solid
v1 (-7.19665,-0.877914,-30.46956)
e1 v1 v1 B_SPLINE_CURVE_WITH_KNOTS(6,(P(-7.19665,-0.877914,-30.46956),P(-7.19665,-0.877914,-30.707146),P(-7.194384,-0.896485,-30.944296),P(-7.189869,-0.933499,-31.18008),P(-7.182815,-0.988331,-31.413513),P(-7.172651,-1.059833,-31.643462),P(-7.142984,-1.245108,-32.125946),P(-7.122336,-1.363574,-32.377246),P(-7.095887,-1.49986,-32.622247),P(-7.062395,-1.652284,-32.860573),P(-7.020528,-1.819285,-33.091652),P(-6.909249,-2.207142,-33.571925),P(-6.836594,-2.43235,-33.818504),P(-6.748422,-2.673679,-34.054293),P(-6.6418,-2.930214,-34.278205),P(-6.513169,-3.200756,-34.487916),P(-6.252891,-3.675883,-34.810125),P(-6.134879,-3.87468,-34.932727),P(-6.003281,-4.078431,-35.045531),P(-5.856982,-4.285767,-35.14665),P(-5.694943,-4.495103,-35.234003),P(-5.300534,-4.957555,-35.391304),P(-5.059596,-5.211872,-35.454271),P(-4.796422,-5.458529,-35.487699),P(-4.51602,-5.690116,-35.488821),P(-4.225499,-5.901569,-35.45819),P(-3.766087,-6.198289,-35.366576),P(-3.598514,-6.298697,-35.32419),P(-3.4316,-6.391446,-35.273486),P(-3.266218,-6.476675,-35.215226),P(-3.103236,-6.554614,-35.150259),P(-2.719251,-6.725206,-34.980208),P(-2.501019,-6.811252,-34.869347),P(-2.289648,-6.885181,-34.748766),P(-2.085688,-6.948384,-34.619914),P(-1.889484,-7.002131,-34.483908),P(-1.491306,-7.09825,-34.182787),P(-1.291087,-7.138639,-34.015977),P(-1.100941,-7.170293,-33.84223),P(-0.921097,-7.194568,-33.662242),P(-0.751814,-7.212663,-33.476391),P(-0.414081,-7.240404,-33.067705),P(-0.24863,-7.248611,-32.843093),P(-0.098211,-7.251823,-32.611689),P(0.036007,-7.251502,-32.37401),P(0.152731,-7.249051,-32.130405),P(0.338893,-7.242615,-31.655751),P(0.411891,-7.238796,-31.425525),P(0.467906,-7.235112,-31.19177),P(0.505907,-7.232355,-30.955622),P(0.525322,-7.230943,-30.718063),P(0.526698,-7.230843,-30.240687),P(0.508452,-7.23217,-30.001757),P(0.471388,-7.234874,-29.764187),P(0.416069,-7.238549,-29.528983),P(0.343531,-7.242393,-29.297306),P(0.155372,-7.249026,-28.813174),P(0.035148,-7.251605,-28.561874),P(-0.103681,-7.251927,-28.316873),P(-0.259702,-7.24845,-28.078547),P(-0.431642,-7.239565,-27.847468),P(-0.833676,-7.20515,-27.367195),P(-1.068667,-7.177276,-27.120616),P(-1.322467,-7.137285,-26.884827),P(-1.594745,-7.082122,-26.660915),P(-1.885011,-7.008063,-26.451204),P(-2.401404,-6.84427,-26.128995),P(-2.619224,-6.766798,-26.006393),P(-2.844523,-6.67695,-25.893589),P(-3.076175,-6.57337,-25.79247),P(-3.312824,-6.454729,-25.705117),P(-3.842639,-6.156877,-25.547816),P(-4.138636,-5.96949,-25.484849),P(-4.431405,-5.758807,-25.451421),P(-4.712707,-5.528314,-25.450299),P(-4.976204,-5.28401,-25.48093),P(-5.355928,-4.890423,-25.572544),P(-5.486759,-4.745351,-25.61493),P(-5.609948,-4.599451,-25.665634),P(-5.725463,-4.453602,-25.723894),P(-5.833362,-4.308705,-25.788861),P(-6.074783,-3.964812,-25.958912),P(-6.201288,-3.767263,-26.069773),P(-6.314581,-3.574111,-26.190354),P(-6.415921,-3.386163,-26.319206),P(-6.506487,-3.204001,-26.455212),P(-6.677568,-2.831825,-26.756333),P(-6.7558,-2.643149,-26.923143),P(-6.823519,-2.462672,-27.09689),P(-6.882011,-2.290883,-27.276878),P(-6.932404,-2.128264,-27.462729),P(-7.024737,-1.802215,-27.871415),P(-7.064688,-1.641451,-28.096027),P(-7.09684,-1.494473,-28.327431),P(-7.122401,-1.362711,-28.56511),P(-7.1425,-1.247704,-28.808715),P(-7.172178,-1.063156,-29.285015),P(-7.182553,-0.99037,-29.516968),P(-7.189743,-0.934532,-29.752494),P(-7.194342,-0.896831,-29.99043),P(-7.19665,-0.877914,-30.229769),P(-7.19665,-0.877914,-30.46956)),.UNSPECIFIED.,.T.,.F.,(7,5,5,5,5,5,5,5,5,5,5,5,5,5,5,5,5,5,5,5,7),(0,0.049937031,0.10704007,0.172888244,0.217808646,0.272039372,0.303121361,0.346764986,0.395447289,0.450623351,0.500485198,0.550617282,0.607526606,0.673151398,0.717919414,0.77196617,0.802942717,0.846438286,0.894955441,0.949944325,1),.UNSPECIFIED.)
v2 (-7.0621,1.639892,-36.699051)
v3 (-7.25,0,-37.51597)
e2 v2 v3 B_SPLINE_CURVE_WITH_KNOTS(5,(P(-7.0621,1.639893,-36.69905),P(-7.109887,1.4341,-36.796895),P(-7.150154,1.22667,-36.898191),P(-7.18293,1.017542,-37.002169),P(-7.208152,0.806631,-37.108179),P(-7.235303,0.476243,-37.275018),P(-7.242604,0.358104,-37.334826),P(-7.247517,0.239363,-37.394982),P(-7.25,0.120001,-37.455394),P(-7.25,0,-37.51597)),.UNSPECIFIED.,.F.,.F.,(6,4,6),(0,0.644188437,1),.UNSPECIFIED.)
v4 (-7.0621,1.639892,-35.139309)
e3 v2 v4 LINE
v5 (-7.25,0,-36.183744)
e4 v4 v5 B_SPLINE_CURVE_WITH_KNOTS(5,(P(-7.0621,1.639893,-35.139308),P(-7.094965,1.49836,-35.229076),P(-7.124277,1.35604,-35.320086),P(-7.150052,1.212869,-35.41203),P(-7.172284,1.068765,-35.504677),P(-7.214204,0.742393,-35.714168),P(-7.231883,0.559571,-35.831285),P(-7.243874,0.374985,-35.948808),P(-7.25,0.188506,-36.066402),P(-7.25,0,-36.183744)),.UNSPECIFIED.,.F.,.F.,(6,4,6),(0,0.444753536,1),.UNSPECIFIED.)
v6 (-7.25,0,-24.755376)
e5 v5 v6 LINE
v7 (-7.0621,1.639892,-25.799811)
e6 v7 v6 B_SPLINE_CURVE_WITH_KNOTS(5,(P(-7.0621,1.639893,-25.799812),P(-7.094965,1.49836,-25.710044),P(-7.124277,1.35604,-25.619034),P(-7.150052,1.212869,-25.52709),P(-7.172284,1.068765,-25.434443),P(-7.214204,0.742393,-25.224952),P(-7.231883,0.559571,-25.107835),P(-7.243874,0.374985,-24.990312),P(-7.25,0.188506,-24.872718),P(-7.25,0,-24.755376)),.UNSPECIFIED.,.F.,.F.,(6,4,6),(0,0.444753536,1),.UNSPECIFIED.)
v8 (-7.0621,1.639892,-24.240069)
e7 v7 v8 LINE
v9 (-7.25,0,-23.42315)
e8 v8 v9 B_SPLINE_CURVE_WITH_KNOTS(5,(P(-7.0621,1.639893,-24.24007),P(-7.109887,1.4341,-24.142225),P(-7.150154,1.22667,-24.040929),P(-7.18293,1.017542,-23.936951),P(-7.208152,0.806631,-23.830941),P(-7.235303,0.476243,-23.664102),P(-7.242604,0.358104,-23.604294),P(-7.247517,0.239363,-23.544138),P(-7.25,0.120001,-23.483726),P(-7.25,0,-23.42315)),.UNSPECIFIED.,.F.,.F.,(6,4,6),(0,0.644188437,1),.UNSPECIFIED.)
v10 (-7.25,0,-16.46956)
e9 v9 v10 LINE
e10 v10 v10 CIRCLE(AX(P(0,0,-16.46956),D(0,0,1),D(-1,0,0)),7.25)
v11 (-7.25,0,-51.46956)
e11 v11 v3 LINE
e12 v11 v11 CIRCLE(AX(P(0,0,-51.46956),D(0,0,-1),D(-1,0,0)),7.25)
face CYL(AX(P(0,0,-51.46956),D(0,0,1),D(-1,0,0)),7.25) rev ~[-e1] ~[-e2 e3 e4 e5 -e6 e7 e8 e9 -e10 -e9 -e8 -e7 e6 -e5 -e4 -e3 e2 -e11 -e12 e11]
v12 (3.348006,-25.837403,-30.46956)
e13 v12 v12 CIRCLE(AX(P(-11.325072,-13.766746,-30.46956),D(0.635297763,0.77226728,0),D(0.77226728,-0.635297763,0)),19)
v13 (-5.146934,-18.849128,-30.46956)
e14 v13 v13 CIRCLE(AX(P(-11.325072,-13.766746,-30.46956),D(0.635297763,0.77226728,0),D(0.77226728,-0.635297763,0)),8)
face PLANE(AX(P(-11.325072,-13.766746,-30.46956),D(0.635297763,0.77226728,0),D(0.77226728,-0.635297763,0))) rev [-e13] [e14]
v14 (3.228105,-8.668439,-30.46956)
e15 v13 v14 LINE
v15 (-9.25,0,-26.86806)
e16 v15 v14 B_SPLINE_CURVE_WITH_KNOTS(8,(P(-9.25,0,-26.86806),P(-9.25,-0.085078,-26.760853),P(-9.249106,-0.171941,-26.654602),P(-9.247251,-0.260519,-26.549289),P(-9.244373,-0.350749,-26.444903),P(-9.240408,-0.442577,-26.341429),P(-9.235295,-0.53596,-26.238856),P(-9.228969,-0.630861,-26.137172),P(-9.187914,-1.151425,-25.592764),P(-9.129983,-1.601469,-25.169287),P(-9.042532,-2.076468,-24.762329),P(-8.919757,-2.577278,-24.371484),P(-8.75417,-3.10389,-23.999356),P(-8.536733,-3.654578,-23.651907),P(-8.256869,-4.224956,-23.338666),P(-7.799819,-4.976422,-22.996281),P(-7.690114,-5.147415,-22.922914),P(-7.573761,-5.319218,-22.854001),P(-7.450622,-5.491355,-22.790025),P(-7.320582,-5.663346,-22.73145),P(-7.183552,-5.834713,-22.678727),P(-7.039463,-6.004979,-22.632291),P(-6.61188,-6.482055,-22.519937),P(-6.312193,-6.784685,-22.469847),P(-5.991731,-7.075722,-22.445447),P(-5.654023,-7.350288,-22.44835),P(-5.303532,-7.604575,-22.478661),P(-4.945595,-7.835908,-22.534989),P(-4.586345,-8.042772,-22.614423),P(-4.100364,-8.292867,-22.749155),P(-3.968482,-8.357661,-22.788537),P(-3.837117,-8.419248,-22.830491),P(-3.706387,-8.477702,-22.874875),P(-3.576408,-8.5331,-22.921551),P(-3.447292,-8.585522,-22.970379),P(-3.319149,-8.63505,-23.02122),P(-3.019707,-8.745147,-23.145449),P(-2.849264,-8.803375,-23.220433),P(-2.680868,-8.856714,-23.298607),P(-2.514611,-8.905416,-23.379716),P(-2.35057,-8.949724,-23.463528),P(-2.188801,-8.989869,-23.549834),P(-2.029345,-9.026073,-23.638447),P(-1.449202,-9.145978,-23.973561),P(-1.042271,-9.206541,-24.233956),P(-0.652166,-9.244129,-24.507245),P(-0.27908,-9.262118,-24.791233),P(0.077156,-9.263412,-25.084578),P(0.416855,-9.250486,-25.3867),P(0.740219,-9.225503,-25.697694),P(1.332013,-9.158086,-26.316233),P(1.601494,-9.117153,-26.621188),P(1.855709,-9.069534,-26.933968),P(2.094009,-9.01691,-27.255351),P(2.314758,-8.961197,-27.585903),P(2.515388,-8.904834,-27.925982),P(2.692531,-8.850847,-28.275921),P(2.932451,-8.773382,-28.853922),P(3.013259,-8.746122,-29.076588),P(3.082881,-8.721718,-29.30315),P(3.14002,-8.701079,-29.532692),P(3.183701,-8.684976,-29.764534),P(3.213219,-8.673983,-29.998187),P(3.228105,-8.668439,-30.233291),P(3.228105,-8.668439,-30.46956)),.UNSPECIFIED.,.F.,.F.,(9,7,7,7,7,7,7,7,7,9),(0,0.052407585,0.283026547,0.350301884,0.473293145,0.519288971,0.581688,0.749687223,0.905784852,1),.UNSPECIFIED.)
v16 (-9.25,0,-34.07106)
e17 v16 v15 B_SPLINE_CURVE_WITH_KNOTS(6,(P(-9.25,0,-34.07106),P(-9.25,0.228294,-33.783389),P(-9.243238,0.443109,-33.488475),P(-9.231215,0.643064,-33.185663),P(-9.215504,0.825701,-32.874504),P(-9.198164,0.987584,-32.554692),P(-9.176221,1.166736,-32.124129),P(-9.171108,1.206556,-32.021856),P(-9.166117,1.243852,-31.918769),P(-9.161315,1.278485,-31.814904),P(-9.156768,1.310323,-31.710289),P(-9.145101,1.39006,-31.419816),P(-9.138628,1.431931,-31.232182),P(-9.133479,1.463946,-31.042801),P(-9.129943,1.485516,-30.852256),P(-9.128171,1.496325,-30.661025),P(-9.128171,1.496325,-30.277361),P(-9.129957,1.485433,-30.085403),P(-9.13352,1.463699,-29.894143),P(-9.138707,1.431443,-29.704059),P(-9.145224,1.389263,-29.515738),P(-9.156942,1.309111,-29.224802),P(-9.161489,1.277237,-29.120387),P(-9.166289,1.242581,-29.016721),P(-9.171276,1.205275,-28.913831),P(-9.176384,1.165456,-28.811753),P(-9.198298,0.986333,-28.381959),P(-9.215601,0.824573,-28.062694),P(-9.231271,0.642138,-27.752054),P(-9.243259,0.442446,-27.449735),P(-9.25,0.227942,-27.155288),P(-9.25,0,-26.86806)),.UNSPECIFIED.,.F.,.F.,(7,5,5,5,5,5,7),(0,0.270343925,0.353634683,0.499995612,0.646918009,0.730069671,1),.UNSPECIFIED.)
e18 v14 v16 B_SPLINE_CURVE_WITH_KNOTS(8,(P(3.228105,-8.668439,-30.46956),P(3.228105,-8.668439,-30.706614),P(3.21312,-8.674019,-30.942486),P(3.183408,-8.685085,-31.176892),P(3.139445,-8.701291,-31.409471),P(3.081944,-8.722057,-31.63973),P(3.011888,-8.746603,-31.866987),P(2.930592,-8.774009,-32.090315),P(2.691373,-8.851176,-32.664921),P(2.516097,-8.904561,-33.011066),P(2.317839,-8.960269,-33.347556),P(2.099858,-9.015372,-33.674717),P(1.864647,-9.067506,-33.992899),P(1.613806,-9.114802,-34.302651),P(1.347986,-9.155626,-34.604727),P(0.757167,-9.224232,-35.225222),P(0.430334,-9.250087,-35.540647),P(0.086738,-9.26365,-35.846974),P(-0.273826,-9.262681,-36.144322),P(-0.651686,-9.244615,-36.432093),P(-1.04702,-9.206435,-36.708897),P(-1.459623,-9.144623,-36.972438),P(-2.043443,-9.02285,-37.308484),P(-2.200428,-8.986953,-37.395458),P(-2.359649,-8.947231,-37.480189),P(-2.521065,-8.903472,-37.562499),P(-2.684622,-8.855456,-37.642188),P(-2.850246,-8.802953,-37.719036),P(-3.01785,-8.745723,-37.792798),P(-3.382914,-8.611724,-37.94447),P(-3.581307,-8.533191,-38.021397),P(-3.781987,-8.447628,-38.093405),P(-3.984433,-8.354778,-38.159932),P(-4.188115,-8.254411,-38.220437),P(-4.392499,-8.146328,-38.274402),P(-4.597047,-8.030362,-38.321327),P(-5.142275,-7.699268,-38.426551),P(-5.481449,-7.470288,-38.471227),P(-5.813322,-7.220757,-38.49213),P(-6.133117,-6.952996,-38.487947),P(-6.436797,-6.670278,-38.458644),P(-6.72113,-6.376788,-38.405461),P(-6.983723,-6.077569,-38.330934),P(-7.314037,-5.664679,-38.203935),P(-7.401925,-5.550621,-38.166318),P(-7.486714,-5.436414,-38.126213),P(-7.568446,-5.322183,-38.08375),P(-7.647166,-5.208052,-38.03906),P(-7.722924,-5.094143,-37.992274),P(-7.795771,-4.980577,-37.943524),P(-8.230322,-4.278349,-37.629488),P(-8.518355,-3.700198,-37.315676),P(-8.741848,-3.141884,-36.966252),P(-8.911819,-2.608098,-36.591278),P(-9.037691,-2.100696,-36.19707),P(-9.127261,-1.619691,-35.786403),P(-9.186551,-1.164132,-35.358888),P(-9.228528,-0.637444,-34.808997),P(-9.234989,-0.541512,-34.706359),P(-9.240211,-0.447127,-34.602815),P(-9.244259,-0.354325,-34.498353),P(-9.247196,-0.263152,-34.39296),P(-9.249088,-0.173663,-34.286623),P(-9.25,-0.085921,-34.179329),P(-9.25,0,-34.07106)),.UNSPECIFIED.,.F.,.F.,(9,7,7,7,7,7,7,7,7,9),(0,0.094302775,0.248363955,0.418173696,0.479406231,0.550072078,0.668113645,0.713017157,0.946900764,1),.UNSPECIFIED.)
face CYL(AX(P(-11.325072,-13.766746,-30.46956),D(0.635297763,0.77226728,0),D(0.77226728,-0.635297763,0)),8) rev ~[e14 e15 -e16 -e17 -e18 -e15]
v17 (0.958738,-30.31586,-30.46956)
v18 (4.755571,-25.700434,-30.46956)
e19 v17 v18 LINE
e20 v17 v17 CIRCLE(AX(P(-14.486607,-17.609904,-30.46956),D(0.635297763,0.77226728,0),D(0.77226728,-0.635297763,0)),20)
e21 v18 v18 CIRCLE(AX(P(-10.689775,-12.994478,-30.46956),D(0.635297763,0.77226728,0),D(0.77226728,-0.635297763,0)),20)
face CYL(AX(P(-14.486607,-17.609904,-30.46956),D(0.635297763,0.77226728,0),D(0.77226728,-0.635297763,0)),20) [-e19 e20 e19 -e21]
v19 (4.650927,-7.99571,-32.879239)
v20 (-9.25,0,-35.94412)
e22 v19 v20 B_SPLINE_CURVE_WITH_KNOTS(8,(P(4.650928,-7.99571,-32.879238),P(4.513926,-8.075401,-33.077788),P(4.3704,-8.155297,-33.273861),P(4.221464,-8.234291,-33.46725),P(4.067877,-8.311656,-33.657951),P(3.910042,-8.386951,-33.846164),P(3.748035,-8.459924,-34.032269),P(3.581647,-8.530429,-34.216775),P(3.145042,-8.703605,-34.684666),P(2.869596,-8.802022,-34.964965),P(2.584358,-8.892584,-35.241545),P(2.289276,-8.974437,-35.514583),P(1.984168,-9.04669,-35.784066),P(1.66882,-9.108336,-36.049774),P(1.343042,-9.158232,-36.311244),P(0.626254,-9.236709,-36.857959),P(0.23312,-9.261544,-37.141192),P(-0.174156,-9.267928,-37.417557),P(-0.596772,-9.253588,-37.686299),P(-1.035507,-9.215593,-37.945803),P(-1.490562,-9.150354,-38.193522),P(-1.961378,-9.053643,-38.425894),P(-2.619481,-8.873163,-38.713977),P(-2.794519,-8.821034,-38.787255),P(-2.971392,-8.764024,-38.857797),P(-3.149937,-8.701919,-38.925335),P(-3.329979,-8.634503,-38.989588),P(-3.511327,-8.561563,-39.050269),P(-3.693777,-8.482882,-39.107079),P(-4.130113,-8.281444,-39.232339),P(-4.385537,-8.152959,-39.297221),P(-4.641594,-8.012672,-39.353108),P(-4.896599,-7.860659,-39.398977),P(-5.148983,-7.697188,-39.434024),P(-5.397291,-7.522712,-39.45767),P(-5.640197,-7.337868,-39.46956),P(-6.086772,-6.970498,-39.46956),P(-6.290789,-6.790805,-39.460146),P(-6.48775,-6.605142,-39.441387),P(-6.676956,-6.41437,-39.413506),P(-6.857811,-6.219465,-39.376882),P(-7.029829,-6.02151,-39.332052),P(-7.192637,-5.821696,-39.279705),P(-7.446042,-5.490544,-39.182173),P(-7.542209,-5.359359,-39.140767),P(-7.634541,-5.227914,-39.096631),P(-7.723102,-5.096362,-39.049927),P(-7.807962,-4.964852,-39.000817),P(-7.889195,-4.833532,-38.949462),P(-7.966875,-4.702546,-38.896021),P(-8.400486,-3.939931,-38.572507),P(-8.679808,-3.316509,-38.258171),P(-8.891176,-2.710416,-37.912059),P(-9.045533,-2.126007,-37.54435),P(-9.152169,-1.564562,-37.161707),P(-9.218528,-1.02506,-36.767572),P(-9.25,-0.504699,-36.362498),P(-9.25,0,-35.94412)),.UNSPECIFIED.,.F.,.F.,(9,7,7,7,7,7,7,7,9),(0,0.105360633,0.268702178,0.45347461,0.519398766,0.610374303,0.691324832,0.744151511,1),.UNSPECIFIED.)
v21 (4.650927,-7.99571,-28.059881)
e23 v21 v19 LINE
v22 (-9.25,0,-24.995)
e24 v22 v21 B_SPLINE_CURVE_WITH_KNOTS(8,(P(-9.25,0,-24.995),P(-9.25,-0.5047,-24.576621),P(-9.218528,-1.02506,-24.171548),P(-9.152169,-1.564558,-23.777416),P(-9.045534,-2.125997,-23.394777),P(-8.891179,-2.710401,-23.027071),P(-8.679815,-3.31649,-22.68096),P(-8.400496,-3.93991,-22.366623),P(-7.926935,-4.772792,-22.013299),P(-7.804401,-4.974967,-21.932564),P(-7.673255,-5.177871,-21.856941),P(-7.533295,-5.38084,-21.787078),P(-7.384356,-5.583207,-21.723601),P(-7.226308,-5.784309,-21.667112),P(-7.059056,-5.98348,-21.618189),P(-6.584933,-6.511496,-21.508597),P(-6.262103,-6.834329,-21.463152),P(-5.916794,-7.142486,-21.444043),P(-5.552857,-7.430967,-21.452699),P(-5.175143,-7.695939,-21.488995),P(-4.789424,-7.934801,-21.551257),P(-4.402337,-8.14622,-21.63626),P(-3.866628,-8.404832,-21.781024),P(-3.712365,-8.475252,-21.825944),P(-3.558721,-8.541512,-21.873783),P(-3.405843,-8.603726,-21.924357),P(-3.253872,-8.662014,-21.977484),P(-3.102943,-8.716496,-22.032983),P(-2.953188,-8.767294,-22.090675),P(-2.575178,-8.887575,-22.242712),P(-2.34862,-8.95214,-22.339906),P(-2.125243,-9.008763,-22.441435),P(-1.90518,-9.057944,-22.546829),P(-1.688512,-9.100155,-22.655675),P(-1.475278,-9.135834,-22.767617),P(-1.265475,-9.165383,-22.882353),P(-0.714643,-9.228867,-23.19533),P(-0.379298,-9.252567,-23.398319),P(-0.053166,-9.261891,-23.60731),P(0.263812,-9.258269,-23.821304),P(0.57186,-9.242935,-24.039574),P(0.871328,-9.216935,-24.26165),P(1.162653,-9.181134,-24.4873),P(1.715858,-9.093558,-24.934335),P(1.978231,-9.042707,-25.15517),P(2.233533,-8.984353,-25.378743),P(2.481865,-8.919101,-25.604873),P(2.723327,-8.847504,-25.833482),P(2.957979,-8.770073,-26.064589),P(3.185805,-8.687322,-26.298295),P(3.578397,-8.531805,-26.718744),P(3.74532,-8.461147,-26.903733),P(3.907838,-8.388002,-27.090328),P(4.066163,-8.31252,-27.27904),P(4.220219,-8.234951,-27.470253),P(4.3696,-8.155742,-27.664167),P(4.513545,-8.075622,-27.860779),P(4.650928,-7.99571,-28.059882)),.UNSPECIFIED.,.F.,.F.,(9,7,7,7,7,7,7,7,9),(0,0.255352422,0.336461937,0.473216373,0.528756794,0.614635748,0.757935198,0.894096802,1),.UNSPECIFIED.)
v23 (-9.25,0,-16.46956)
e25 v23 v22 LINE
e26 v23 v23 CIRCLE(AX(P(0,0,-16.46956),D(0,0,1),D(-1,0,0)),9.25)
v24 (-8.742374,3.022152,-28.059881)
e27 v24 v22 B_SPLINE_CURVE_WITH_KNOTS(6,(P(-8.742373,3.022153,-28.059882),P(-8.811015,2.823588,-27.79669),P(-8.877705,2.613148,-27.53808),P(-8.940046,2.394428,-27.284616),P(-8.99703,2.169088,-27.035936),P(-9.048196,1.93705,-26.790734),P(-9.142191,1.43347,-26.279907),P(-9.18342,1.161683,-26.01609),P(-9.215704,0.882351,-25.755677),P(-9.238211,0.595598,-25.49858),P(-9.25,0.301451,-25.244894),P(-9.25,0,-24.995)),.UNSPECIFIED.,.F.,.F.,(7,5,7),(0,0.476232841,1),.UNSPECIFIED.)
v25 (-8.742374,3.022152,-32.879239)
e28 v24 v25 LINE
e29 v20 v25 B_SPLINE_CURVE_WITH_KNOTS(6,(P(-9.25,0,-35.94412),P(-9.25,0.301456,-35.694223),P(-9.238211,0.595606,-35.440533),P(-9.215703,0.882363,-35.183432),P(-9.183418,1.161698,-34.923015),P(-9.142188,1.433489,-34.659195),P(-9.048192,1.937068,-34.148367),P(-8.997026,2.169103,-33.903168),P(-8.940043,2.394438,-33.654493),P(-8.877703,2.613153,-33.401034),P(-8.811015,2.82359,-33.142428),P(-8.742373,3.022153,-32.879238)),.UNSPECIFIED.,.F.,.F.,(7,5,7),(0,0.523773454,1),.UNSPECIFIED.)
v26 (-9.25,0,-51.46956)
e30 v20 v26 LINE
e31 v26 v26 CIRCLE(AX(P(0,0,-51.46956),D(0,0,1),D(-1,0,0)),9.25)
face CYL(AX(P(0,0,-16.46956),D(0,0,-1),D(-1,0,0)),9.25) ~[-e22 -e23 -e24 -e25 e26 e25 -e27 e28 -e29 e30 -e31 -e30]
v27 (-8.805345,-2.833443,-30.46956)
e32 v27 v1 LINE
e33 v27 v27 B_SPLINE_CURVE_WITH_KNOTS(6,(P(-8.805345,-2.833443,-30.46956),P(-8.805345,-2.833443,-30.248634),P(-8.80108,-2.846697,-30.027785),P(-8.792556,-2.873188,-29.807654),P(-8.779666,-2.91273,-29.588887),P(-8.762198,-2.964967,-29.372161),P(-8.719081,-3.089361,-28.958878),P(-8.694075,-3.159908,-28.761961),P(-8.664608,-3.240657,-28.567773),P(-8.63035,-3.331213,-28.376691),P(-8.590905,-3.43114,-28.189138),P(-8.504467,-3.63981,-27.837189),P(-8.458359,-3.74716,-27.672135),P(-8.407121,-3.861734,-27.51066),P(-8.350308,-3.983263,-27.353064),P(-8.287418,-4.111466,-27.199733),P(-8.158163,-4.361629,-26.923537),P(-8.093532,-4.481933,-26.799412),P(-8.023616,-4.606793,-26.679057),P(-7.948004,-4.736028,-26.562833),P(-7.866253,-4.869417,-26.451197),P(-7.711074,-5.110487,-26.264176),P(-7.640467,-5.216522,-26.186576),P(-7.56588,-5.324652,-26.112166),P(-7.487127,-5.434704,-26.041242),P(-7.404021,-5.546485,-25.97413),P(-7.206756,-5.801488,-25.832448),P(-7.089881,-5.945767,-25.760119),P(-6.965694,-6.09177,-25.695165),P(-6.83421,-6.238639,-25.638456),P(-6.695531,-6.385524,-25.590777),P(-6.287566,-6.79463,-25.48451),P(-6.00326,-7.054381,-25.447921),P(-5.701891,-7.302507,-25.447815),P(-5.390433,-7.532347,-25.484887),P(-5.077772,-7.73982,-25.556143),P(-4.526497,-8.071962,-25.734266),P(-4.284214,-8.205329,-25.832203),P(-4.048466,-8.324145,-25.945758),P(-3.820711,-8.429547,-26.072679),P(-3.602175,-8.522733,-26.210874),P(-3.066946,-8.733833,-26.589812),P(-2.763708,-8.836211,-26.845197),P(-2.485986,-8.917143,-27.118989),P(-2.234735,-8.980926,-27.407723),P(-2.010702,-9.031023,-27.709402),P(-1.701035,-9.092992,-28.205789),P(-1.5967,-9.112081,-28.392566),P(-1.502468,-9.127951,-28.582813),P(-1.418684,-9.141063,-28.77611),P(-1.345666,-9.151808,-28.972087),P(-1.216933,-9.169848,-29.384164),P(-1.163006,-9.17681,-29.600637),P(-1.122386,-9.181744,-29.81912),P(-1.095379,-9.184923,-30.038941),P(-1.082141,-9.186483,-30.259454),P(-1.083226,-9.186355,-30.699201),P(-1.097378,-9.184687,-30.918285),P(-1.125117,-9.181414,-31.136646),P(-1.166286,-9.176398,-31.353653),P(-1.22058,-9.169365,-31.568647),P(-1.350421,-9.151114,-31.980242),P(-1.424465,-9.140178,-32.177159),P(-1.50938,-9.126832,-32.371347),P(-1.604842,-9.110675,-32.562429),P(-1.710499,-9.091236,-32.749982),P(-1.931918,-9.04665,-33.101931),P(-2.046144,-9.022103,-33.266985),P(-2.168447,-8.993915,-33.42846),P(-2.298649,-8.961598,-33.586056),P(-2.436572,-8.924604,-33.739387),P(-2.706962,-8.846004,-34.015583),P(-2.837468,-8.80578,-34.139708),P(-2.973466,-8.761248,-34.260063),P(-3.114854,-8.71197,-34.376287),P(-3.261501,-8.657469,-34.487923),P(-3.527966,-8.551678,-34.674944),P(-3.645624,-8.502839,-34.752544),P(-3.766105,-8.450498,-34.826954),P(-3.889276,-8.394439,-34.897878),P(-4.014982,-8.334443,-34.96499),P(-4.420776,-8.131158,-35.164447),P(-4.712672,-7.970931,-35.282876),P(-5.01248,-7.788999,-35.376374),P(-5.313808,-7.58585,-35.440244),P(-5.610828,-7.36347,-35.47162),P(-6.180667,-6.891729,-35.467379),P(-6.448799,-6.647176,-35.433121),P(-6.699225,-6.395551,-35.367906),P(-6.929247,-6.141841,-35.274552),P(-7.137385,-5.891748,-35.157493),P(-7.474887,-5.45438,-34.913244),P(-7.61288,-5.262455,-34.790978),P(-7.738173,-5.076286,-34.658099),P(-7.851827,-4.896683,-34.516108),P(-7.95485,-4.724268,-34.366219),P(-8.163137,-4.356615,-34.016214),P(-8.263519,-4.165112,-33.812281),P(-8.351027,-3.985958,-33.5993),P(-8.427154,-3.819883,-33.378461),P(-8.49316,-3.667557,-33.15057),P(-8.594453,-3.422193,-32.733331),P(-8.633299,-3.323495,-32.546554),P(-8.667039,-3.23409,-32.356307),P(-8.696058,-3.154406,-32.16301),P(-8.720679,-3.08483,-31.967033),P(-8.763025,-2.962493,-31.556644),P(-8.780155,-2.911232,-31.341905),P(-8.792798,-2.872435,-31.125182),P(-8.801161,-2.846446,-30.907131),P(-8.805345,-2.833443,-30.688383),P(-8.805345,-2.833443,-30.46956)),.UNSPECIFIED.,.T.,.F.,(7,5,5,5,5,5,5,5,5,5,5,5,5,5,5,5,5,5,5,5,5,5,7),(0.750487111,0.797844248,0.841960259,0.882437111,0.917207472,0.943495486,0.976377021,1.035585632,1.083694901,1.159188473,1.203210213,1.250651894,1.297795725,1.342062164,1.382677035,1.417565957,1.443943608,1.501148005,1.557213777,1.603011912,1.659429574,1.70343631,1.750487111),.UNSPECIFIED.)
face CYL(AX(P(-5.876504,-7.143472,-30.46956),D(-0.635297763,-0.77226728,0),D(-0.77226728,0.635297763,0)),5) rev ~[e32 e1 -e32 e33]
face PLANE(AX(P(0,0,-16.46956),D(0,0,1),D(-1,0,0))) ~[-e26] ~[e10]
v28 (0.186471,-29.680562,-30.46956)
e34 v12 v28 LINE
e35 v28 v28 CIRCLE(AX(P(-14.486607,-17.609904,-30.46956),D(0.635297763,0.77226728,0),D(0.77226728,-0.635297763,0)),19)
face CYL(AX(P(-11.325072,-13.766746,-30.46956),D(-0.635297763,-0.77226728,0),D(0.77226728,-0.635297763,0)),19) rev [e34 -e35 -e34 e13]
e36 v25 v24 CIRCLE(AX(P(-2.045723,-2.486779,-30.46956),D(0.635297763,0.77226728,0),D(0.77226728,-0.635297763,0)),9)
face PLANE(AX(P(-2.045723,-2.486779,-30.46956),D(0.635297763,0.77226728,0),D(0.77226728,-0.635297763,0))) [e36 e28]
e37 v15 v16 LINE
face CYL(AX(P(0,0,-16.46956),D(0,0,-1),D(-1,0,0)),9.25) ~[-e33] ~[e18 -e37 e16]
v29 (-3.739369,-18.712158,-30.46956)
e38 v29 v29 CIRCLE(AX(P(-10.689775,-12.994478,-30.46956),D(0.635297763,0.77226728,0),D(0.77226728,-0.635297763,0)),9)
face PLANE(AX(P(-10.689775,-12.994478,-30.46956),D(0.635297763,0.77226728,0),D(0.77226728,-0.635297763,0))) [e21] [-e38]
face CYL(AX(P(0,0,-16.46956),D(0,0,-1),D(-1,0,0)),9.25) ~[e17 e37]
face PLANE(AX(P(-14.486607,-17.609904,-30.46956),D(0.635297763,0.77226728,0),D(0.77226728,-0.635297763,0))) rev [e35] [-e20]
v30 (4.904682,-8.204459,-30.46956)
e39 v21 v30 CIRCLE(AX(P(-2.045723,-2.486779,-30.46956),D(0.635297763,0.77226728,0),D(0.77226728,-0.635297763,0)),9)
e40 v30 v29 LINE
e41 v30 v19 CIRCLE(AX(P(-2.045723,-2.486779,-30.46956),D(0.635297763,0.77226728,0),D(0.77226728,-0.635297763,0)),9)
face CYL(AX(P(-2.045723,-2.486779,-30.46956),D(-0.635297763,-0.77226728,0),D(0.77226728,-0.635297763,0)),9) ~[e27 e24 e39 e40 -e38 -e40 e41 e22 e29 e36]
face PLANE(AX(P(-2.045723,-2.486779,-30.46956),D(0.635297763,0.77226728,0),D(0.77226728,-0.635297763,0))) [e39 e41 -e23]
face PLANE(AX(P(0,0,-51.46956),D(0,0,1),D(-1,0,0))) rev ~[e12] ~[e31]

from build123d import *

# Parameters (mm, degrees)
TROU_DE_PASSAGE_D_AXE_3_321_REACH  = 32.636
TROU_DE_PASSAGE_D_AXE_3_321_BORE_R = 5
TROU_DE_PASSAGE_D_AXE_3_322_D      = 14.5


with BuildPart() as part:
    # Esquisse1 → Révolution1 (revolve)
    with BuildSketch(Plane(origin=(0, 0, 0), x_dir=(1, 0, 0), z_dir=(0, 1, 0)), mode=Mode.PRIVATE) as r_volution1_sk:
        Polygon((7.250000000000006, 51.46955999467971), (7.2500000000000115, 16.46955999467971), (9.250000000000007, 16.46955999467971), (9.250000000000007, 51.46955999467971), align=None)
    revolve(r_volution1_sk.sketch.rotate(Axis((0, 0, -65.50671272050145), (0, 0, 1)), 180), axis=Axis((0, 0, -65.50671272050145), (0, 0, 1)))

    # Trou de passage d'axe 3/321 bore (on position points) → Trou de passage d'axe 3/321 (cut, up to next)
    with BuildSketch(Plane(origin=(-5.876504309, -7.143472342, -30.469559995), x_dir=(-0.772267280236, 0.635297763161, 0), z_dir=(-0.635297763161, -0.772267280236, 0)), mode=Mode.PRIVATE) as trou_de_passage_d_axe_3_321_sk1:
        Circle(TROU_DE_PASSAGE_D_AXE_3_321_BORE_R)
    trou_de_passage_d_axe_3_321_tool1 = extrude(trou_de_passage_d_axe_3_321_sk1.sketch, amount=-TROU_DE_PASSAGE_D_AXE_3_321_REACH, mode=Mode.PRIVATE) & part.part
    add(trou_de_passage_d_axe_3_321_tool1.solids().sort_by_distance((-5.876504, -7.143472, -30.46956))[0], mode=Mode.SUBTRACT)

    # Esquisse6 → Révolution2 (revolve)
    with BuildSketch(Plane(origin=(0, 0, 0), x_dir=(0, 0, -1), z_dir=(0.7722672802355546, -0.6352977631611647, 0)), mode=Mode.PRIVATE) as r_volution2_sk:
        Polygon((22.469559994679706, -16.22010142633931), (22.469559994679706, -17.826400392261572), (11.469559994679708, -17.826400392261572), (11.469559994679708, -22.802862204144958), (10.469559994679706, -22.802862204144958), (10.469559994679706, -16.826400392261576), (21.469559994679706, -16.826400392261572), (21.469559994679706, -16.22010142633931), (21.469559994679706, -3.2201014263393115), (22.469559994679706, -3.2201014263393115), align=None)
    revolve(r_volution2_sk.sketch.rotate(Axis((-13.132857470311126, -15.964287470260585, -30.469559994679706), (0.6352977631611647, 0.7722672802355546, 0)), 90), axis=Axis((-13.132857470311126, -15.964287470260585, -30.469559994679706), (0.6352977631611647, 0.7722672802355546, 0)))

    # Trou de passage d'axe 3/322 (through all)
    with Locations(Plane(origin=(0, 0, -39.469559995), x_dir=(0, -1, 0), z_dir=(0, 0, -1))):
        with Locations((0, 0)):
            Hole(TROU_DE_PASSAGE_D_AXE_3_322_D / 2)


solid = part.part
